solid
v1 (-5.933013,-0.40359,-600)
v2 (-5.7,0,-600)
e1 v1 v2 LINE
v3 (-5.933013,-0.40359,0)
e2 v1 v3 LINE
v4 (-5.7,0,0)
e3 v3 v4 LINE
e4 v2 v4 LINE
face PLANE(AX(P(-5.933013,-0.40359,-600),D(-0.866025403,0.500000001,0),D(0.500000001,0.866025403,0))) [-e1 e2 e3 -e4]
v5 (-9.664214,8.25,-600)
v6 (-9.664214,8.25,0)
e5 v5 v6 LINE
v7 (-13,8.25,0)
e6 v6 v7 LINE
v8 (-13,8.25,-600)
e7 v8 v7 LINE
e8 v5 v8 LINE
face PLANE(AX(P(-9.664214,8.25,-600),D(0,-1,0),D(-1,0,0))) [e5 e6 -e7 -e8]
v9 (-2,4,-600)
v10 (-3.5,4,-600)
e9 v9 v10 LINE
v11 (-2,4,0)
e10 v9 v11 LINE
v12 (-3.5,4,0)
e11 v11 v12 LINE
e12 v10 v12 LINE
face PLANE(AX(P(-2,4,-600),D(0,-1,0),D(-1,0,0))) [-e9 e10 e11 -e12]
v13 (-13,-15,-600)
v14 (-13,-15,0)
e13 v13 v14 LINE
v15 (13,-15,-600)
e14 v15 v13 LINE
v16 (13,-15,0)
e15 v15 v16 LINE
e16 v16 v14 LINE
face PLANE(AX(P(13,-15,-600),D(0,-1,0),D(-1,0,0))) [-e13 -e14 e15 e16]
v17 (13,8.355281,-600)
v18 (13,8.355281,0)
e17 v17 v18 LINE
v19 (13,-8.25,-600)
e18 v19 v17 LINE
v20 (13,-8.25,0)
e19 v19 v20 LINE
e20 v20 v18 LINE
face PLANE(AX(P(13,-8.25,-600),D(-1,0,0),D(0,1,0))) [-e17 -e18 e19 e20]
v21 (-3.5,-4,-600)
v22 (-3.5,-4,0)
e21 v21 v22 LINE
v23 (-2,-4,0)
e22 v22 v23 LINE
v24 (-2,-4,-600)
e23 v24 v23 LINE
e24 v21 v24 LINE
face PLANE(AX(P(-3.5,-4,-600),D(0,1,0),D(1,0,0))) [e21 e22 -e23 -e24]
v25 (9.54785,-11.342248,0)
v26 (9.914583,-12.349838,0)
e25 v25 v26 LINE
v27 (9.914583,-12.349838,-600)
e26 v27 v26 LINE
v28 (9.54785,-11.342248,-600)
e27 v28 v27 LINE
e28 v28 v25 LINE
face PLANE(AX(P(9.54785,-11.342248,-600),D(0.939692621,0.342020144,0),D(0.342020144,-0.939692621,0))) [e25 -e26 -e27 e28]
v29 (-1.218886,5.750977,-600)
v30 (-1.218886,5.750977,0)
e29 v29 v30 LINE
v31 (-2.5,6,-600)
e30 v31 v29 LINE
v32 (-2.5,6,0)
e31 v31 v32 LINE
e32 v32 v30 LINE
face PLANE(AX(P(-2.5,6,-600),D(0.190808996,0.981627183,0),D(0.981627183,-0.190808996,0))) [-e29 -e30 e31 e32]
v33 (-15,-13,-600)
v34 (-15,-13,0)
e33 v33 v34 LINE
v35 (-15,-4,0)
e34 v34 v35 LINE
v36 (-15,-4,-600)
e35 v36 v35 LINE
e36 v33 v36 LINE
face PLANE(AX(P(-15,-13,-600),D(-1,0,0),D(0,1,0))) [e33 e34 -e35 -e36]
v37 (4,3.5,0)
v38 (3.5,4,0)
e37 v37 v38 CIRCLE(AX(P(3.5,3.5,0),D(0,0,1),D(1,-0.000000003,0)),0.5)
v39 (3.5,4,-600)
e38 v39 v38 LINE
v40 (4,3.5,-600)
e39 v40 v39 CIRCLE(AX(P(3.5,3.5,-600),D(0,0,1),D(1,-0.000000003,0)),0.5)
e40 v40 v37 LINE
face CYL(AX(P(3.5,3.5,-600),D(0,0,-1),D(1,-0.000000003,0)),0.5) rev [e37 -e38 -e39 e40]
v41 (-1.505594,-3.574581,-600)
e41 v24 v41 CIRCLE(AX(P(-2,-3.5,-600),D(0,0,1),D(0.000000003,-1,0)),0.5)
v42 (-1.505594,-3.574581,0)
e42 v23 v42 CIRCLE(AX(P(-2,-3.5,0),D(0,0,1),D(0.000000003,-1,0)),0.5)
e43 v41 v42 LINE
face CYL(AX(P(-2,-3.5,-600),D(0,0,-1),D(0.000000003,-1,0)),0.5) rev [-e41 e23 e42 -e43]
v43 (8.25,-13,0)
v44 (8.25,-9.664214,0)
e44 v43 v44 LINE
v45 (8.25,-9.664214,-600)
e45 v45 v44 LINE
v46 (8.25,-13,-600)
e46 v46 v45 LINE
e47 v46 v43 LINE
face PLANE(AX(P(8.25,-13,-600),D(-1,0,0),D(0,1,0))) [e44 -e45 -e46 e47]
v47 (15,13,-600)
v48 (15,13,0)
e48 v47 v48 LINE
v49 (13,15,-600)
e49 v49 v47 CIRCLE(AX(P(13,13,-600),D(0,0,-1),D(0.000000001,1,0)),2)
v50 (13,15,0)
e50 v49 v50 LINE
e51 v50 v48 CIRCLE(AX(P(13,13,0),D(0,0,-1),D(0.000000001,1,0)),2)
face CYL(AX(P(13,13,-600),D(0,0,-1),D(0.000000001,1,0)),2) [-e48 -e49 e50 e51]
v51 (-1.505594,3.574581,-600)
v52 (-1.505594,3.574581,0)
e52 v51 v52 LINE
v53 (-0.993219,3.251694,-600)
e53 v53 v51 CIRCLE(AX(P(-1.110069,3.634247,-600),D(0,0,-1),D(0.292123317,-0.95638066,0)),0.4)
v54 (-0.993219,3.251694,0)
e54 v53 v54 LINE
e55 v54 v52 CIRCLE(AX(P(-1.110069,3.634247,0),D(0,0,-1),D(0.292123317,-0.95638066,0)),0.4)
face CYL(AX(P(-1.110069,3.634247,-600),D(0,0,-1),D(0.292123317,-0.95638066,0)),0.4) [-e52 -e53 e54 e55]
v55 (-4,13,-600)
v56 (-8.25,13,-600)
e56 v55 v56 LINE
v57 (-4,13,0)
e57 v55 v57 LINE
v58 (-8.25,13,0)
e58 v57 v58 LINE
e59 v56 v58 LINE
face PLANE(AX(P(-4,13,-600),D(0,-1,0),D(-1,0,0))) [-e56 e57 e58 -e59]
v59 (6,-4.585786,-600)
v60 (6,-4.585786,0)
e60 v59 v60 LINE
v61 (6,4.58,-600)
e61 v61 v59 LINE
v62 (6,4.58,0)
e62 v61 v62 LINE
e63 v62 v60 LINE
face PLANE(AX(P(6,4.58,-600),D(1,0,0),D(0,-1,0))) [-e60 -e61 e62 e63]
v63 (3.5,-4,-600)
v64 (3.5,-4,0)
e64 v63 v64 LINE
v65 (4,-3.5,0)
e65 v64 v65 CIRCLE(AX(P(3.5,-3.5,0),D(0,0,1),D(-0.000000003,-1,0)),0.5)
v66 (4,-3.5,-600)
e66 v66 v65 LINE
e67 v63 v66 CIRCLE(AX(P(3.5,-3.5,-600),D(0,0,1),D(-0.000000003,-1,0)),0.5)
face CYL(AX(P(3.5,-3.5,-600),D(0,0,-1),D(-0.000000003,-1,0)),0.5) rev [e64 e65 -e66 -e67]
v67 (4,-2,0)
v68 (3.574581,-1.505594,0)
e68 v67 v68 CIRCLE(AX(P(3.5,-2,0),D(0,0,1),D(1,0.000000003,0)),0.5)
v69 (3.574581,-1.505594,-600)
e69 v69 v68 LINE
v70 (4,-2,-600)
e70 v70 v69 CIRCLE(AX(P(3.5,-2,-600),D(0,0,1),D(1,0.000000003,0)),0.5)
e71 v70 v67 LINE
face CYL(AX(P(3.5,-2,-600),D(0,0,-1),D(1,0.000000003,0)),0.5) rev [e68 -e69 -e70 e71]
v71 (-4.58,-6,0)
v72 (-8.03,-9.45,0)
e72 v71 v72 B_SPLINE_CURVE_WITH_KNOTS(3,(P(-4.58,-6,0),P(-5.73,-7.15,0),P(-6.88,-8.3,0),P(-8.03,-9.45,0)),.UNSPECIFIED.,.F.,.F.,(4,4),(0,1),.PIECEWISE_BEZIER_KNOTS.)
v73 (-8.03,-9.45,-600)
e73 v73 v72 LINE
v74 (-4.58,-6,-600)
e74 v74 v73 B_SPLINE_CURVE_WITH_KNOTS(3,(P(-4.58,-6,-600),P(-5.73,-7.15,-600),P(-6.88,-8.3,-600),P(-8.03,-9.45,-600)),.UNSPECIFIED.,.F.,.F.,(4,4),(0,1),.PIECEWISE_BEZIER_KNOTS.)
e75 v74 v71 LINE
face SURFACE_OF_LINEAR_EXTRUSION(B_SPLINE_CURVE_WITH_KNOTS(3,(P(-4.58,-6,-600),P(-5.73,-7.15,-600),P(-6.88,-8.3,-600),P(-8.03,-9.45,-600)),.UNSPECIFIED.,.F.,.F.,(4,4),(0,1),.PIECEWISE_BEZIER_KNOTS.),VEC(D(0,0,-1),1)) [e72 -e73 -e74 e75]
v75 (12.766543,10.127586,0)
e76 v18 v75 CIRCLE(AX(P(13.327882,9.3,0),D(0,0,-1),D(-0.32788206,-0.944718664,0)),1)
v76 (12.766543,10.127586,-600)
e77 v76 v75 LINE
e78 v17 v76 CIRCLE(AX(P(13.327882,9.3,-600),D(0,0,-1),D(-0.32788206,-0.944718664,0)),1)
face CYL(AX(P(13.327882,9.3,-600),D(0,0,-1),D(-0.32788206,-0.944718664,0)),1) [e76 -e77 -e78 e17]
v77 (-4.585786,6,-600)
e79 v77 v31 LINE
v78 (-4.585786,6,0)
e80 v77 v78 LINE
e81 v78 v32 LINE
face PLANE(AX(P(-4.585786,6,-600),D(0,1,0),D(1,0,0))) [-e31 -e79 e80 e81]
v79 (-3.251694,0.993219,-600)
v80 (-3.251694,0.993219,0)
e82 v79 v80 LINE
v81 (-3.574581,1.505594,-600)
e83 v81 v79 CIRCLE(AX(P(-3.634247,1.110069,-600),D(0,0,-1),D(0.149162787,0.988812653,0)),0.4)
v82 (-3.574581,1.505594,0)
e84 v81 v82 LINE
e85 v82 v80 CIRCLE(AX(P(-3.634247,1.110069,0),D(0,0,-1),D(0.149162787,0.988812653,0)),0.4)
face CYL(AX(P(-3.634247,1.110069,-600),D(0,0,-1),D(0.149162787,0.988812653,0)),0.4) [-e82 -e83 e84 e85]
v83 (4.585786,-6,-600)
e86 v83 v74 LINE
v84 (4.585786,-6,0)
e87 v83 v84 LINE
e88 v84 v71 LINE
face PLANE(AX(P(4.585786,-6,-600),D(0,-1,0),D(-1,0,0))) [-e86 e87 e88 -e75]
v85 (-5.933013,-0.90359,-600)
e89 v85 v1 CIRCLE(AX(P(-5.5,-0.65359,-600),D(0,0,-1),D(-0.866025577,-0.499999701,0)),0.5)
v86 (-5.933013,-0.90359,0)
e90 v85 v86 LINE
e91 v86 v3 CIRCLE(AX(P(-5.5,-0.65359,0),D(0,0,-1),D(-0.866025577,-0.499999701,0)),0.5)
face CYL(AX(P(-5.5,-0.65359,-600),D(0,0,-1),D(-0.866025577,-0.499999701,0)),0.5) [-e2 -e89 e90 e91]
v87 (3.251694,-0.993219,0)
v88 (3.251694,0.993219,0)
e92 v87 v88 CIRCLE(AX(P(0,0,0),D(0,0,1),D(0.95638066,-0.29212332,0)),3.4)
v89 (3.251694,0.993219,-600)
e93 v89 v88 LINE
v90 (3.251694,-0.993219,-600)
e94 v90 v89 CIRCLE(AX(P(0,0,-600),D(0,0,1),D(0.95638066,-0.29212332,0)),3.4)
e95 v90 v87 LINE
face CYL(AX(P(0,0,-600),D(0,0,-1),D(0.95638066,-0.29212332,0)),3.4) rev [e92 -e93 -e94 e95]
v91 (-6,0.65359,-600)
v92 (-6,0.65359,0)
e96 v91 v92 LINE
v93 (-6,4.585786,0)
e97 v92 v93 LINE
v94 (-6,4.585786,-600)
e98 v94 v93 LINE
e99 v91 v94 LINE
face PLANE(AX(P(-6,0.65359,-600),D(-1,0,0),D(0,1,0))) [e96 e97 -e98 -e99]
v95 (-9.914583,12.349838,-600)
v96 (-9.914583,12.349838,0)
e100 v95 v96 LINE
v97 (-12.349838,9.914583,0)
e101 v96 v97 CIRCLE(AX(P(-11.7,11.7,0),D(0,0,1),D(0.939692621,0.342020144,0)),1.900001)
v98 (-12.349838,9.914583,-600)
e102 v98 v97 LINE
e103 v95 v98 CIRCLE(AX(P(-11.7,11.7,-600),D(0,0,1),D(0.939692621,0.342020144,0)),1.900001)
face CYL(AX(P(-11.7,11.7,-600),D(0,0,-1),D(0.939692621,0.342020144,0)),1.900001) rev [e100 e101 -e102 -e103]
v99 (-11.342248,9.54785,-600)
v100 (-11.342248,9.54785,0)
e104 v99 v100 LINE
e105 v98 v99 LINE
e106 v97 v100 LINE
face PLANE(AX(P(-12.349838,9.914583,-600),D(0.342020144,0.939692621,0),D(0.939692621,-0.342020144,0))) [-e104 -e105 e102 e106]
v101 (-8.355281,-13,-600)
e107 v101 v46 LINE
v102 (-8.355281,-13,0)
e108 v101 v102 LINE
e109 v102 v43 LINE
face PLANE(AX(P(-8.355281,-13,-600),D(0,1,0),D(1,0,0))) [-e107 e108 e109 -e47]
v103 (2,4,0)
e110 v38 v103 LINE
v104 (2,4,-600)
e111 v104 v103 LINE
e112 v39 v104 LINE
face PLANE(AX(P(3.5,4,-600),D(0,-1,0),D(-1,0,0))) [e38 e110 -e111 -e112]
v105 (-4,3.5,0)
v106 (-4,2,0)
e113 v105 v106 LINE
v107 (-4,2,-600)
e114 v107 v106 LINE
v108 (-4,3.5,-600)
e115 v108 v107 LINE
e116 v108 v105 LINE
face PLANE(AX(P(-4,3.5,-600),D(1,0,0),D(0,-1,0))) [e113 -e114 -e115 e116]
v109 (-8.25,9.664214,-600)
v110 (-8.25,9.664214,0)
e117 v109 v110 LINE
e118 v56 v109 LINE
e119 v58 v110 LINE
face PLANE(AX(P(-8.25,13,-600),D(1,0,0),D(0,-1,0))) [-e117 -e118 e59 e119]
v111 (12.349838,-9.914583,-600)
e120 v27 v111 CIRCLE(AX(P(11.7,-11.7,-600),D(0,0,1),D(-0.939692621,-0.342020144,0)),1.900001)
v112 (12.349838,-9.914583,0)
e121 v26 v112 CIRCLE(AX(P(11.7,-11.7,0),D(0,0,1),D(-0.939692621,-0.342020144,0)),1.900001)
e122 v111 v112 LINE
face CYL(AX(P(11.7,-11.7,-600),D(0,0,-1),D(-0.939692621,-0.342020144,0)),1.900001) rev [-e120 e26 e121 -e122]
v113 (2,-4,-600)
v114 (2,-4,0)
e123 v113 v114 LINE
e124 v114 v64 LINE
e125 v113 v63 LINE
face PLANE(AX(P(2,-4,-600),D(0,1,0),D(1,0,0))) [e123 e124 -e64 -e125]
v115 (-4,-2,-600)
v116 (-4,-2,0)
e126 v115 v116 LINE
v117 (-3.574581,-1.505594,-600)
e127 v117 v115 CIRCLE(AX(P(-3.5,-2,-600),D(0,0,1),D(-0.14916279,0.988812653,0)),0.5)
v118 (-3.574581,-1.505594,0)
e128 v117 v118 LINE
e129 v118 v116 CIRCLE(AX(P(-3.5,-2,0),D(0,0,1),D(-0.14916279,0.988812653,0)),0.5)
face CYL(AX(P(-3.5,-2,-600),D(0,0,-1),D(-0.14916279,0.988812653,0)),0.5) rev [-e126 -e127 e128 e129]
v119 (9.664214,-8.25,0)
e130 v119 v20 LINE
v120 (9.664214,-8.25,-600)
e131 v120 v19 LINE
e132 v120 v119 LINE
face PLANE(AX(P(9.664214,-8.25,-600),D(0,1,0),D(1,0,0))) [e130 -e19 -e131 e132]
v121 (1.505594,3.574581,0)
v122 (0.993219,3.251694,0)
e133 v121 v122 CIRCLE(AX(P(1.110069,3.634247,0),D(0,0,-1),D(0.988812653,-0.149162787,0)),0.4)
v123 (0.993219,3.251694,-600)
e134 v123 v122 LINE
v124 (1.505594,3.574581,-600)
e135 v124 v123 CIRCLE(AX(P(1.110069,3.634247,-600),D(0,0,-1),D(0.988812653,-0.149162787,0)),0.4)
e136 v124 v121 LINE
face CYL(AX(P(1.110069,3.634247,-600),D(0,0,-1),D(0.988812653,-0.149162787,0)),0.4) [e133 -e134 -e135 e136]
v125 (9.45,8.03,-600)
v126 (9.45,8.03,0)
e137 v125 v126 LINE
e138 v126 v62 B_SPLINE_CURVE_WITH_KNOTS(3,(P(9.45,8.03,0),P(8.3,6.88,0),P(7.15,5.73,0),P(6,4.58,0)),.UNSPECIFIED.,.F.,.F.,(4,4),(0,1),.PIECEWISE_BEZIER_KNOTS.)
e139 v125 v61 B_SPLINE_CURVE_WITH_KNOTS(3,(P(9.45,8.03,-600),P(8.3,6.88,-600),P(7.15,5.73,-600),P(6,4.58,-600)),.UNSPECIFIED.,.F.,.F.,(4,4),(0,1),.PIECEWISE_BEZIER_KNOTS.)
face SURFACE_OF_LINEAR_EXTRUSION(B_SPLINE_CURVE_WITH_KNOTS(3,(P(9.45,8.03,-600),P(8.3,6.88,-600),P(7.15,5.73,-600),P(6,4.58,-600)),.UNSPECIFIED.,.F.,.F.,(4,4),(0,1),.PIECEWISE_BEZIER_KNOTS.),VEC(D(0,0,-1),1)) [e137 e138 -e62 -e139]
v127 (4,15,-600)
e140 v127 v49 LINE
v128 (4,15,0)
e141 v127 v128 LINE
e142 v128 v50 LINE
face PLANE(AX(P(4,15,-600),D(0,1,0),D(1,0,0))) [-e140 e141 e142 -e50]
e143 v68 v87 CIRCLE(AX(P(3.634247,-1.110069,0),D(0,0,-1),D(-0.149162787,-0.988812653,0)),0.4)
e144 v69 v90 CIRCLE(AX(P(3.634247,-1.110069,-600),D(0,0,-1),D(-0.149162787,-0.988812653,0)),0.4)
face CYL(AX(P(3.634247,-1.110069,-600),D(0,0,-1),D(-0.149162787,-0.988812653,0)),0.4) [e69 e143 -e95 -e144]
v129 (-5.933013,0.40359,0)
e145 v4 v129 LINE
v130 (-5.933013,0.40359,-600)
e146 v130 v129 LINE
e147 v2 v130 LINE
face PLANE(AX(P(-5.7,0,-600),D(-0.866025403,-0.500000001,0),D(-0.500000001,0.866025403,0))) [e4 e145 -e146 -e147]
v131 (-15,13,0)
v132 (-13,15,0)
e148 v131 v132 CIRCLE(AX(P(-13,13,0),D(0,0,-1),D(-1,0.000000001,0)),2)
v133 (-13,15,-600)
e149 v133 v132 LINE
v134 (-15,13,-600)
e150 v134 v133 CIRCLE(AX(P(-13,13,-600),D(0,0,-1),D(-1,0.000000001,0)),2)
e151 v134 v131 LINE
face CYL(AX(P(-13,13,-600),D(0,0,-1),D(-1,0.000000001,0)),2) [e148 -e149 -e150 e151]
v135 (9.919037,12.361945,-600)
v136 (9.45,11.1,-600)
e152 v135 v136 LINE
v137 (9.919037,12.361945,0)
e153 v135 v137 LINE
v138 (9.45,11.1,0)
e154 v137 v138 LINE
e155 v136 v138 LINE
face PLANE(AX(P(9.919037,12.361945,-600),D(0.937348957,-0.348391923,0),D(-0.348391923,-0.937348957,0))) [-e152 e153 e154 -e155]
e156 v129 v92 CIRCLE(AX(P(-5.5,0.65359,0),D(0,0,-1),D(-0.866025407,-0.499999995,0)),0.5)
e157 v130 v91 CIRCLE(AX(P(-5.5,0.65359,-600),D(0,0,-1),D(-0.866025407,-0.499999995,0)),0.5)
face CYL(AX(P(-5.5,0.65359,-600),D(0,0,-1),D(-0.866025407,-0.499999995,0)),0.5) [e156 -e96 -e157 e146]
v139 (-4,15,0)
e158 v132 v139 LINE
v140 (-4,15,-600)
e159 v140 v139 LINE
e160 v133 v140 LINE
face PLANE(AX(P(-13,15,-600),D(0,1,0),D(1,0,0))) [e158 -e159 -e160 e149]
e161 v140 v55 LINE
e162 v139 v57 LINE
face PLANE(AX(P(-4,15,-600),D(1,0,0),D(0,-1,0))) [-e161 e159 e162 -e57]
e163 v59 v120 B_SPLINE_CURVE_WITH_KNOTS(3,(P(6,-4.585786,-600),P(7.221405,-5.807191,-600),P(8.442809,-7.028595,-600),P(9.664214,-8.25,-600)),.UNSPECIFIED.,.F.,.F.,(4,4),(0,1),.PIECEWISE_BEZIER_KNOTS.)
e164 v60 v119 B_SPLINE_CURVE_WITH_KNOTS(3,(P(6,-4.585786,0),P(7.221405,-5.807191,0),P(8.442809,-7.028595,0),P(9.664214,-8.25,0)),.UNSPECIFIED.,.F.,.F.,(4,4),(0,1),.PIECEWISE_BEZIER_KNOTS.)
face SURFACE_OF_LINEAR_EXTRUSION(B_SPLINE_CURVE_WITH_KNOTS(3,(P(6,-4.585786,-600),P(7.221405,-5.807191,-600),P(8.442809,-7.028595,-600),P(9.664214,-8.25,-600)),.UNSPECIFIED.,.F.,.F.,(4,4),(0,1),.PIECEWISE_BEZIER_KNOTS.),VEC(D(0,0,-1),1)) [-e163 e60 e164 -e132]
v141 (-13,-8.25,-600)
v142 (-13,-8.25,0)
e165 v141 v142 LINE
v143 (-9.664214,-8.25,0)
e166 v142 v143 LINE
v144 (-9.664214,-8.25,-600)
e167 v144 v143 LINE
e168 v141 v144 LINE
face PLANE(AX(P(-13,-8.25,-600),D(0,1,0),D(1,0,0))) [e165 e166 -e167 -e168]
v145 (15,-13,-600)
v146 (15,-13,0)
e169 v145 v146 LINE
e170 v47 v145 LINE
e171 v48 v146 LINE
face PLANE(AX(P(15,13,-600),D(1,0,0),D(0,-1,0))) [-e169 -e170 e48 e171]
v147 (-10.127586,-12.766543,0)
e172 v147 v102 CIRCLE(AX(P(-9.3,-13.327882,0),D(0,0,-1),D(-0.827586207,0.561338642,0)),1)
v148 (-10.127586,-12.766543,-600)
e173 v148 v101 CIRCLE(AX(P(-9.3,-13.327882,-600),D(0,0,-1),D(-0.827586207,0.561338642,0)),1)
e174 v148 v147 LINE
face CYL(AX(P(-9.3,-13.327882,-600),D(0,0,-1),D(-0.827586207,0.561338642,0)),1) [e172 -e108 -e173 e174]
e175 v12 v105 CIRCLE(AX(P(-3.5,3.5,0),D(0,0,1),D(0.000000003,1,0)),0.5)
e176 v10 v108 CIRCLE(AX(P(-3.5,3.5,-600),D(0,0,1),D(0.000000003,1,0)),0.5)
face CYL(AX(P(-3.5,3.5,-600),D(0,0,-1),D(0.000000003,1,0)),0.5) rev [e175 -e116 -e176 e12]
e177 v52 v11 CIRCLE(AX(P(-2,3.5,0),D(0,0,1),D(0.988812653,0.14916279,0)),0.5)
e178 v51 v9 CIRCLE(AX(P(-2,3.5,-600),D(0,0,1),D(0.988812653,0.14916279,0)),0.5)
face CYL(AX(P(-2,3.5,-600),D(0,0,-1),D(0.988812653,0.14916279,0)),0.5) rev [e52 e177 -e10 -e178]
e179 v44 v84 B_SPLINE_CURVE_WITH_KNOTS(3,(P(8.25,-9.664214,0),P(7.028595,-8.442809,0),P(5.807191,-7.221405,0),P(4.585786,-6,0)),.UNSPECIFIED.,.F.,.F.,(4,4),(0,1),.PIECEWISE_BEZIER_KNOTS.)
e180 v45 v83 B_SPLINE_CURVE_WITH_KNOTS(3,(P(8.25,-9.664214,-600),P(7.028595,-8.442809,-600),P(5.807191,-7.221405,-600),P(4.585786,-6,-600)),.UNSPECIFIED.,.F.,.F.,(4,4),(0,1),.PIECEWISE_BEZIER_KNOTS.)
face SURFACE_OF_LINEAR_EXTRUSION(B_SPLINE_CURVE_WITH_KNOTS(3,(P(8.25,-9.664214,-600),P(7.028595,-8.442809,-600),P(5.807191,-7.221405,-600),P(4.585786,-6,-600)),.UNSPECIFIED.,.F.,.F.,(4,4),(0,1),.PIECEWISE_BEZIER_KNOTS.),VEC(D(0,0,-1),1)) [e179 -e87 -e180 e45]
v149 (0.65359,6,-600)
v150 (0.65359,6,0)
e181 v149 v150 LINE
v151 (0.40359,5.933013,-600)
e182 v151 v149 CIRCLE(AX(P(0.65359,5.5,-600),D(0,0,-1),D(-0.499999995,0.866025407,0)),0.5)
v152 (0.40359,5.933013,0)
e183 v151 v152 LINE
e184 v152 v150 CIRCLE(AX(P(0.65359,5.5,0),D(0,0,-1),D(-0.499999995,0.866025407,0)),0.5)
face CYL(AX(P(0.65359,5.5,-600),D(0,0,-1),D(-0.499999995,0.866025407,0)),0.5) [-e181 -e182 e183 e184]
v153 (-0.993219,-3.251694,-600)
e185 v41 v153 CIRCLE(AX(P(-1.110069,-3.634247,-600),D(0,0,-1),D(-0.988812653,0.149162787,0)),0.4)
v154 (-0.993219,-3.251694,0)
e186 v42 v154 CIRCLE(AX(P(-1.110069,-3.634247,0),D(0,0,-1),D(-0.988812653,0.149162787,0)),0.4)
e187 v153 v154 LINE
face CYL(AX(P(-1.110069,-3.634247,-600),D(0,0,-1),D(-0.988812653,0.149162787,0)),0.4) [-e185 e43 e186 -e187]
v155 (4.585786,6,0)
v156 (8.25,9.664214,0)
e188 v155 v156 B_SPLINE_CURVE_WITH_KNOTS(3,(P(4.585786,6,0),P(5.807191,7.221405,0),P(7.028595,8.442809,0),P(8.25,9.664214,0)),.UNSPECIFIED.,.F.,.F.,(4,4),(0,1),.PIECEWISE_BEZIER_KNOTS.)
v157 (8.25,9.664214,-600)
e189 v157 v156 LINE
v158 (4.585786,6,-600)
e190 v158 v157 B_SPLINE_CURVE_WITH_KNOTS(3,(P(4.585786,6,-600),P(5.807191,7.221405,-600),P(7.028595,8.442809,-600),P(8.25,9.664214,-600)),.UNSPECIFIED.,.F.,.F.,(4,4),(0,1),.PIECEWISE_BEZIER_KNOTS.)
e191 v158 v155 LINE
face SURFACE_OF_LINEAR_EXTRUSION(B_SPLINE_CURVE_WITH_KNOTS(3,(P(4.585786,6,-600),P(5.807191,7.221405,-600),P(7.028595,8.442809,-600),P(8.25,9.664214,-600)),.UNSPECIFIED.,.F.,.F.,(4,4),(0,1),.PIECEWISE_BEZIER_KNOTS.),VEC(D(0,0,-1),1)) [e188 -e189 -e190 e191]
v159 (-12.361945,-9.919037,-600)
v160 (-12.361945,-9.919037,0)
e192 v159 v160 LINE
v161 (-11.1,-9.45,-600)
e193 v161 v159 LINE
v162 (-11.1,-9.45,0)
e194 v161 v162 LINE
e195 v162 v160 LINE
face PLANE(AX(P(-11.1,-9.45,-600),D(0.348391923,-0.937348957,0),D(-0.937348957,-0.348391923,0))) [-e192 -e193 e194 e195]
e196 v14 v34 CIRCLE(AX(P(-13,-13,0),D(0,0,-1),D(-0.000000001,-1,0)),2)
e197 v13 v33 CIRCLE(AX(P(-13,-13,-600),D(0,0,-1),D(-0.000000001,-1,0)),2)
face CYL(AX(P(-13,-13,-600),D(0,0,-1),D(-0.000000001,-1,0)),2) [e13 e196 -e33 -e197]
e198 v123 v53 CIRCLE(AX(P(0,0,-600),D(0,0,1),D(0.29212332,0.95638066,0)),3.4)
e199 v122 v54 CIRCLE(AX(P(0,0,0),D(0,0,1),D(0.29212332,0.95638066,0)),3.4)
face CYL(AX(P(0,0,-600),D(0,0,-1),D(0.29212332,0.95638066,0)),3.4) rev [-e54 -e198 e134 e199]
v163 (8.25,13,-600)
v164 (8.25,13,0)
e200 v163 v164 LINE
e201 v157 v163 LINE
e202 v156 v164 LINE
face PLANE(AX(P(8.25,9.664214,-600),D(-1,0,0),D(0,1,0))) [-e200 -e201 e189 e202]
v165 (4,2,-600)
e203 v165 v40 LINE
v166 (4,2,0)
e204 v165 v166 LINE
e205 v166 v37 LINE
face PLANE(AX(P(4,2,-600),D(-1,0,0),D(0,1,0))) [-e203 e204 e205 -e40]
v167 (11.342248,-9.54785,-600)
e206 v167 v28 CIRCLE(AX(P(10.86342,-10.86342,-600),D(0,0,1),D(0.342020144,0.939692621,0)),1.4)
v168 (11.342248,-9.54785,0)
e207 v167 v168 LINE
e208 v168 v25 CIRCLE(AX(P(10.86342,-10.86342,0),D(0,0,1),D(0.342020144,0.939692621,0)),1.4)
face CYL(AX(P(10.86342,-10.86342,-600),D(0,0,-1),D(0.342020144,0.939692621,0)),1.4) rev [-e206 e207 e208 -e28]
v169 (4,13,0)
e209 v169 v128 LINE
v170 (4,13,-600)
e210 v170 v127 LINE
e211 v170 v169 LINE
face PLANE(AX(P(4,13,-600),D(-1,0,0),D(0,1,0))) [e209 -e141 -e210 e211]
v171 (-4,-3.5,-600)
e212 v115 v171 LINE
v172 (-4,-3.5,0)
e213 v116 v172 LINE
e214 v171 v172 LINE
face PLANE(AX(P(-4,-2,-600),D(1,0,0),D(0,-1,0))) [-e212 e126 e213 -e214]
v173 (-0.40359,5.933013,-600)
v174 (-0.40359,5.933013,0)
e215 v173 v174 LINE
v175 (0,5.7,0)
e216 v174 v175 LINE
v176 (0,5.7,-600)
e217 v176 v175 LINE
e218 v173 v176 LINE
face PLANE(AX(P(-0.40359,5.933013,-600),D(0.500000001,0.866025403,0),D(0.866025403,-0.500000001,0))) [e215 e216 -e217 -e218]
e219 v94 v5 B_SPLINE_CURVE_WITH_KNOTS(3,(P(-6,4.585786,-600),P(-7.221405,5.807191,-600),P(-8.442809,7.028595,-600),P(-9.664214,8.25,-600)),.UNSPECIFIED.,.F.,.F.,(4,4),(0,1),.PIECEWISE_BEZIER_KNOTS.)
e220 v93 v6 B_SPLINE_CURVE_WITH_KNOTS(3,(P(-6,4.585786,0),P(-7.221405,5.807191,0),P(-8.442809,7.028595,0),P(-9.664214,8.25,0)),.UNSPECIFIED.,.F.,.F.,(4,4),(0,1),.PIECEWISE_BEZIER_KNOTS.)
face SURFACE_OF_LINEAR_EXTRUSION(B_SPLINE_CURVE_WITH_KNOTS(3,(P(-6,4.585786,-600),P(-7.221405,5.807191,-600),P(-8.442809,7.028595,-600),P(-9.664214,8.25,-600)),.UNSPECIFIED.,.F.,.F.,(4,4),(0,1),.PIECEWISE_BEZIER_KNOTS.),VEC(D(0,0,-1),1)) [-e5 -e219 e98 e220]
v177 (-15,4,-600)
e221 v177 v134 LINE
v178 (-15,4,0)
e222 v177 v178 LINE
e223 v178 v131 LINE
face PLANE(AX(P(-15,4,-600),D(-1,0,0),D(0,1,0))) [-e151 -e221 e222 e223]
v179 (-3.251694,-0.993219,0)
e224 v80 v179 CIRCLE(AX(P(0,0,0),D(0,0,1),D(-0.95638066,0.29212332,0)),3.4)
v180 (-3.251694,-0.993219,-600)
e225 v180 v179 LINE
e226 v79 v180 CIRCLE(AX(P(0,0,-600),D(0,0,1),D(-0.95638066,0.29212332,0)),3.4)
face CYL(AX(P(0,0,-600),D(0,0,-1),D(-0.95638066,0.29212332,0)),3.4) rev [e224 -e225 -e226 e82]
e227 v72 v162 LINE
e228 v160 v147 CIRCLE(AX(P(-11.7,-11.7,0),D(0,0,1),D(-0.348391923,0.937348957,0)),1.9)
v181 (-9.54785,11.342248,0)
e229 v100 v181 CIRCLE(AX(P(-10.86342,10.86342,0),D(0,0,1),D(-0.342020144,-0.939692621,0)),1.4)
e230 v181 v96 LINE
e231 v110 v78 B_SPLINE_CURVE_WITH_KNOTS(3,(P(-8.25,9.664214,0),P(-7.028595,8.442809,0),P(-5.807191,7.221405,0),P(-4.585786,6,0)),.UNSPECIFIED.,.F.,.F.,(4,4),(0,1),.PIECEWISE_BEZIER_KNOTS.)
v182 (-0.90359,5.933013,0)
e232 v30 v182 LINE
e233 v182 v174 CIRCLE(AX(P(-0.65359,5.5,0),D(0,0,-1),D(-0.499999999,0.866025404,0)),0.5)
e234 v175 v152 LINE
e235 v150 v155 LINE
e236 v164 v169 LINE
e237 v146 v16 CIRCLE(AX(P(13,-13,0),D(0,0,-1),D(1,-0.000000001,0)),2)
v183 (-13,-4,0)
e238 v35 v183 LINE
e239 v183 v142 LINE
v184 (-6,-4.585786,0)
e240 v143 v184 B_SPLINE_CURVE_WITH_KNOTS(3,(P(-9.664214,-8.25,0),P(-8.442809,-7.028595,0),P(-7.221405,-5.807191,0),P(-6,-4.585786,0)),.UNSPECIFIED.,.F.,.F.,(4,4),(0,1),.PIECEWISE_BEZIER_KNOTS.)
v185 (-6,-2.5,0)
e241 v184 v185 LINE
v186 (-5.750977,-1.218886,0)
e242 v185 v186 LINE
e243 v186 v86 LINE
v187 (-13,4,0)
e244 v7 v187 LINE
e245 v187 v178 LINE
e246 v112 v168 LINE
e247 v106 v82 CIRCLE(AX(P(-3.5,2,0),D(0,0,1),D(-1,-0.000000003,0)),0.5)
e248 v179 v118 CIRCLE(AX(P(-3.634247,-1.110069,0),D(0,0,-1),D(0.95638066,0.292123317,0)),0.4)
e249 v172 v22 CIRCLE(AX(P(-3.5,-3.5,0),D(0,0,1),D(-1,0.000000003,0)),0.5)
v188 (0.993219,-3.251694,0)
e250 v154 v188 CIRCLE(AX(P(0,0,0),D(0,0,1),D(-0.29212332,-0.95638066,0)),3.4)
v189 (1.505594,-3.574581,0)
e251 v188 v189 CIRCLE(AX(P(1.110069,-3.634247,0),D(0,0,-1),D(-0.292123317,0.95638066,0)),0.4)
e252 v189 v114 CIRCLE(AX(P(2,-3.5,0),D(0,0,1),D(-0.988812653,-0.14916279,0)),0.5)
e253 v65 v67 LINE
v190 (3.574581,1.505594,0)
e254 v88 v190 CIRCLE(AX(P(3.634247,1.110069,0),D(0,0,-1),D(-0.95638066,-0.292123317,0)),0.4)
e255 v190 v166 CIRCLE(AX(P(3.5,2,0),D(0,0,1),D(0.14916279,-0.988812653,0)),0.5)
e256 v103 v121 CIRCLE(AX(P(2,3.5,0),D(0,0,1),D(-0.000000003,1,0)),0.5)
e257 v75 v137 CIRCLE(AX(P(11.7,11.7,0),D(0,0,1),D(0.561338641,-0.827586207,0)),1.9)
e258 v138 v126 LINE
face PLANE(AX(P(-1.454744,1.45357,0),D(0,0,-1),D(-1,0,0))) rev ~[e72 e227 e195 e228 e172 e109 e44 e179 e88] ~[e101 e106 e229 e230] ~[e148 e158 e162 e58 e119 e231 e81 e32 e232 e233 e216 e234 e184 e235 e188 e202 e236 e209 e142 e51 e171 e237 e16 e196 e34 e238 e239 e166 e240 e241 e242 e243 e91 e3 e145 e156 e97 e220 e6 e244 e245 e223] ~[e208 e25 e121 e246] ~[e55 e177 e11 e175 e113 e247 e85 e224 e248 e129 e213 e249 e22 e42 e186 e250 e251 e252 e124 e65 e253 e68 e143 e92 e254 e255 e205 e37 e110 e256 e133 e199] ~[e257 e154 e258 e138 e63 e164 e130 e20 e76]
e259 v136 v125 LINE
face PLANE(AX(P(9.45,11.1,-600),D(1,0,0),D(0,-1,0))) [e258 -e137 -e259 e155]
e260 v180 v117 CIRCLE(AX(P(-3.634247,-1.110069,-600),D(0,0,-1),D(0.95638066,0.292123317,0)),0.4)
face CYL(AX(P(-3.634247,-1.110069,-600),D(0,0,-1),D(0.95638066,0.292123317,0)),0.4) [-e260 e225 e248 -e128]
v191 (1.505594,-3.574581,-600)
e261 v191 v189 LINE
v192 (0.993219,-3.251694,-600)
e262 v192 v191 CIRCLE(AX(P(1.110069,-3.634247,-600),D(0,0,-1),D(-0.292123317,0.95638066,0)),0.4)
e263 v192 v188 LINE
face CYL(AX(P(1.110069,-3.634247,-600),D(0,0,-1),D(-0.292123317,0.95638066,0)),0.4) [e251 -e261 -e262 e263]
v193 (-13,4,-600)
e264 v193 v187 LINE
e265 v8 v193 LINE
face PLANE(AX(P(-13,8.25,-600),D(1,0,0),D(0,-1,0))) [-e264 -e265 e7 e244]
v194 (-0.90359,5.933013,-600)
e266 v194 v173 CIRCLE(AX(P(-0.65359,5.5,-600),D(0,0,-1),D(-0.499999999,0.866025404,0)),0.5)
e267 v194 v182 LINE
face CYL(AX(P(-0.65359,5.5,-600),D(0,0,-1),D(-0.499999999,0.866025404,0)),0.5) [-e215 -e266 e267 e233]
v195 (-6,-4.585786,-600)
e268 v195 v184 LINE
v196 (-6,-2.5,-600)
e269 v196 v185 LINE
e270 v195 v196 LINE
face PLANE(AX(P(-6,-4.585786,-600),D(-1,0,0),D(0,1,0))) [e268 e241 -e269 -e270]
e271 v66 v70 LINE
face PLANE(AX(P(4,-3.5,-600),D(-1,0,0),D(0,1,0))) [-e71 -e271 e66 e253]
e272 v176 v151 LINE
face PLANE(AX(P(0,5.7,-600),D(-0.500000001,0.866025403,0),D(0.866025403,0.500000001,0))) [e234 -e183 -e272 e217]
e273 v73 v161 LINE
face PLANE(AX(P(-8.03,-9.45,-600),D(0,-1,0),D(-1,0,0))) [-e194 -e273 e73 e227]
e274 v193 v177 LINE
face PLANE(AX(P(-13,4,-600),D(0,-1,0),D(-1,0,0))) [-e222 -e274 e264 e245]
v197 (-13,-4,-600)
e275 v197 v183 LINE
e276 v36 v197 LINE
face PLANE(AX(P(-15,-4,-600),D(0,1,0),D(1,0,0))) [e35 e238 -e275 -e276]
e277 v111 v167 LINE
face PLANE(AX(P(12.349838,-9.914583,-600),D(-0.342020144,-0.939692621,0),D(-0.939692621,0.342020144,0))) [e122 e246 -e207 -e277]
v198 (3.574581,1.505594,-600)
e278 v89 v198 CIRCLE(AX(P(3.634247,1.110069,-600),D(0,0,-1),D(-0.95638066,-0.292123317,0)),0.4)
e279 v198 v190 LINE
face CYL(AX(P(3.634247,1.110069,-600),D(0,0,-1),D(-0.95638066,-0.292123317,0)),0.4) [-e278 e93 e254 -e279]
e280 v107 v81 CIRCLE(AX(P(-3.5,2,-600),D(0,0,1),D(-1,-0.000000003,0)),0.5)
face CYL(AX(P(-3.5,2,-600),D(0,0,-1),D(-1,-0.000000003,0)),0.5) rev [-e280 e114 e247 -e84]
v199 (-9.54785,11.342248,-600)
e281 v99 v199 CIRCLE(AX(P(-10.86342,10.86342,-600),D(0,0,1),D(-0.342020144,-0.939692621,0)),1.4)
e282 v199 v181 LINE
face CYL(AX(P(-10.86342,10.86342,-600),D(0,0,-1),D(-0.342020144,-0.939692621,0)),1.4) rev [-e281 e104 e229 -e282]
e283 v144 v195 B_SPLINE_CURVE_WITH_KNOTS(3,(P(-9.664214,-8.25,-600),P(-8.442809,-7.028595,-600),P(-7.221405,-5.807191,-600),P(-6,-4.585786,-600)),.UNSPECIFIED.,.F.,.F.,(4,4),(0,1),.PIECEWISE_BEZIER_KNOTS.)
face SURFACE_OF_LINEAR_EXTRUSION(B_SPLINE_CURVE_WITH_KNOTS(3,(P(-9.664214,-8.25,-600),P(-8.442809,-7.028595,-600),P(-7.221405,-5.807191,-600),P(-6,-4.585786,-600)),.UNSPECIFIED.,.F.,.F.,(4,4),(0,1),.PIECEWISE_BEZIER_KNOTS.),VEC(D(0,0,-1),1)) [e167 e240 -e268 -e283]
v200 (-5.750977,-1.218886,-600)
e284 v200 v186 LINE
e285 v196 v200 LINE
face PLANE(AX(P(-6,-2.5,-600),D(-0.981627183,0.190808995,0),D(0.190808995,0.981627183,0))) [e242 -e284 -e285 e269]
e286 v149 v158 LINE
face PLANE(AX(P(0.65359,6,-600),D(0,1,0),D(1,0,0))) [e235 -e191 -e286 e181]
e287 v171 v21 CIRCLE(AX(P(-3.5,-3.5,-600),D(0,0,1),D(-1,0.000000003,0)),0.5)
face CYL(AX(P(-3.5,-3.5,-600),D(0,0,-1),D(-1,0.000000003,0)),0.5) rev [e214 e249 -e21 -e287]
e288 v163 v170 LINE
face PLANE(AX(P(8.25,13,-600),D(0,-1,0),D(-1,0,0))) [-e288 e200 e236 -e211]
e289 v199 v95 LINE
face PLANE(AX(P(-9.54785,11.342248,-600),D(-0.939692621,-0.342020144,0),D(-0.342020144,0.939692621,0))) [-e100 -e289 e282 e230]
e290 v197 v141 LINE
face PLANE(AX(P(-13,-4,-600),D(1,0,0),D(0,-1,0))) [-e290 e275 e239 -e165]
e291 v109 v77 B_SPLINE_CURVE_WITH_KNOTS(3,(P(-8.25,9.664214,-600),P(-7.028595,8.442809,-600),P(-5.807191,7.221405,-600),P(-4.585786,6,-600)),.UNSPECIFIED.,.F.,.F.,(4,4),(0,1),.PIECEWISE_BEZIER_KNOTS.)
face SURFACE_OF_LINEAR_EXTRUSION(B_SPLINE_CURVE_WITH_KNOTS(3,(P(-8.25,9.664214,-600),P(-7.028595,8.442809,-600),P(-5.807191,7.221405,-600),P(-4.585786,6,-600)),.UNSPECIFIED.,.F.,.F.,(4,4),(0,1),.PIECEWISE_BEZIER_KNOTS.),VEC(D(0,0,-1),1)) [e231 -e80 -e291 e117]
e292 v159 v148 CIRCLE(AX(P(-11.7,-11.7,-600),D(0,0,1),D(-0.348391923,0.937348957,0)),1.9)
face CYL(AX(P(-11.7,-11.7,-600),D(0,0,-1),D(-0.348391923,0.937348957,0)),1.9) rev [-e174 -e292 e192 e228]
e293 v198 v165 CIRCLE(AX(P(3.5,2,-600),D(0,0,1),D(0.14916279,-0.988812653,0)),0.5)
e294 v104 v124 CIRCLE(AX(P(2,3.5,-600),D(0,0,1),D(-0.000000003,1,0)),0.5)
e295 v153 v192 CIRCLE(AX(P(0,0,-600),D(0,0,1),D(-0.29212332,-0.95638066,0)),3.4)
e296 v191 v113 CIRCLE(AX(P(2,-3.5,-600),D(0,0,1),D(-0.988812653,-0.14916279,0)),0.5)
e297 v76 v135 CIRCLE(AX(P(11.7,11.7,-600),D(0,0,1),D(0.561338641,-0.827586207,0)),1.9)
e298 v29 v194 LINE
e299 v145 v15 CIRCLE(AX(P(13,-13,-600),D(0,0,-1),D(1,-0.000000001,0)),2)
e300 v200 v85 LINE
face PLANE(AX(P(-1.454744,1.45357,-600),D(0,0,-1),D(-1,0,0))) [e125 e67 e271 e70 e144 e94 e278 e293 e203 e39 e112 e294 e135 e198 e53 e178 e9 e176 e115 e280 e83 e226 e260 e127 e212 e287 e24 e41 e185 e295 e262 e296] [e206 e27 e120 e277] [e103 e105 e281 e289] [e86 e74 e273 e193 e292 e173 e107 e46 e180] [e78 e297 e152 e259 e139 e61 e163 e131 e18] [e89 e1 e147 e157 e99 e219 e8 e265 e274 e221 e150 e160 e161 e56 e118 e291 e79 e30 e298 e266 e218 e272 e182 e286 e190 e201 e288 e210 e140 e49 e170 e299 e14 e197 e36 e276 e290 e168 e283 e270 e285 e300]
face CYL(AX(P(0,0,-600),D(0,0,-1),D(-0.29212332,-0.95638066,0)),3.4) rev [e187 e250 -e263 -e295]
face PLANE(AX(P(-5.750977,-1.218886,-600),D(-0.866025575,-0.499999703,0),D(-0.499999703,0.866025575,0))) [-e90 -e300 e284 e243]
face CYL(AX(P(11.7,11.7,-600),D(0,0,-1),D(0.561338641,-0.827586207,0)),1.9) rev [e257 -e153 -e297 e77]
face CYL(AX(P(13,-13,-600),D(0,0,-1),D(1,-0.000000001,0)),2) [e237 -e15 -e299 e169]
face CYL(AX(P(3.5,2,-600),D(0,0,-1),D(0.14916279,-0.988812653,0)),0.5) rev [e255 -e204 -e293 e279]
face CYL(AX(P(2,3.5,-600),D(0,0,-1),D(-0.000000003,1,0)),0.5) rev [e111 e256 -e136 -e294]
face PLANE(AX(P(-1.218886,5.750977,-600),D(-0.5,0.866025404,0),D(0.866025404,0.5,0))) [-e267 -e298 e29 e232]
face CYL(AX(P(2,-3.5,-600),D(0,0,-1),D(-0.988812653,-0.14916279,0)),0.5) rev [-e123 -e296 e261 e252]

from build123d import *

# Parameters (mm, degrees)
ESTRUSIONE_ESTRUSIONE1_DEPTH = 600


with BuildPart() as part:
    # Schizzo1 → Estrusione-Estrusione1 (new body)
    with BuildSketch(Plane(origin=(0, 0, -600), x_dir=(-1, 0, 0), z_dir=(0, 0, -1))):
        with BuildLine():
            Line((-15, 13), (-15, -13))
            ThreePointArc((-15, -13), (-14.414213562, -14.414213562), (-13, -15))
            Line((-13, -15), (13, -15))
            ThreePointArc((13, -15), (14.414213562, -14.414213562), (15, -13))
            Line((15, -13), (15, -4))
            Line((15, -4), (13, -4))
            Line((13, -4), (13, -8.25))
            Line((13, -8.25), (9.664213562, -8.25))
            add(Edge.make_bspline(
                [(9.664213562, -8.25), (8.442809042, -7.028595479), (7.221404521, -5.807190958), (6, -4.585786438)],
                knots=[0, 0, 0, 0, 1, 1, 1, 1], degree=3))
            Line((6, -4.585786438), (6, -2.5))
            Line((6, -2.5), (5.750976629, -1.218885816))
            Line((5.750976629, -1.218885816), (5.933012788, -0.90358969))
            ThreePointArc((5.933012788, -0.90358969), (6, -0.653589753), (5.933012702, -0.403589838))
            Line((5.933012702, -0.403589838), (5.7, 0))
            Line((5.7, 0), (5.933012702, 0.403589838))
            ThreePointArc((5.933012702, 0.403589838), (5.982962913, 0.524180316), (6, 0.653589838))
            Line((6, 0.653589838), (6, 4.585786438))
            add(Edge.make_bspline(
                [(6, 4.585786438), (7.221404521, 5.807190958), (8.442809042, 7.028595479), (9.664213562, 8.25)],
                knots=[0, 0, 0, 0, 1, 1, 1, 1], degree=3))
            Line((9.664213562, 8.25), (13, 8.25))
            Line((13, 8.25), (13, 4))
            Line((13, 4), (15, 4))
            Line((15, 4), (15, 13))
            ThreePointArc((15, 13), (14.414213562, 14.414213562), (13, 15))
            Line((13, 15), (4, 15))
            Line((4, 15), (4, 13))
            Line((4, 13), (8.25, 13))
            Line((8.25, 13), (8.25, 9.664213562))
            add(Edge.make_bspline(
                [(8.25, 9.664213562), (7.028595479, 8.442809042), (5.807190958, 7.221404521), (4.585786438, 6)],
                knots=[0, 0, 0, 0, 1, 1, 1, 1], degree=3))
            Line((4.585786438, 6), (2.5, 6))
            Line((2.5, 6), (1.218885629, 5.750976592))
            Line((1.218885629, 5.750976592), (0.903589838, 5.933012702))
            ThreePointArc((0.903589838, 5.933012702), (0.653589838, 6), (0.403589838, 5.933012702))
            Line((0.403589838, 5.933012702), (0, 5.7))
            Line((0, 5.7), (-0.403589838, 5.933012702))
            ThreePointArc((-0.403589838, 5.933012702), (-0.524180316, 5.982962913), (-0.653589838, 6))
            Line((-0.653589838, 6), (-4.585786438, 6))
            add(Edge.make_bspline(
                [(-4.585786438, 6), (-5.807190958, 7.221404521), (-7.028595479, 8.442809042), (-8.25, 9.664213562)],
                knots=[0, 0, 0, 0, 1, 1, 1, 1], degree=3))
            Line((-8.25, 9.664213562), (-8.25, 13))
            Line((-8.25, 13), (-4, 13))
            Line((-4, 13), (-4, 15))
            Line((-4, 15), (-13, 15))
            ThreePointArc((-13, 15), (-14.414213562, 14.414213562), (-15, 13))
        make_face()
        with BuildLine():
            Line((12.349838066, 9.914583088), (11.34224826, 9.54785039))
            ThreePointArc((11.34224826, 9.54785039), (9.873470565, 9.873470565), (9.54785039, 11.34224826))
            Line((9.54785039, 11.34224826), (9.914583088, 12.349838066))
            ThreePointArc((9.914583088, 12.349838066), (13.043502884, 13.043502884), (12.349838066, 9.914583088))
        make_face(mode=Mode.SUBTRACT)
        with BuildLine():
            Line((-4.585786438, -6), (4.58, -6))
            add(Edge.make_bspline(
                [(4.58, -6), (5.73, -7.15), (6.88, -8.3), (8.03, -9.45)],
                knots=[0, 0, 0, 0, 1, 1, 1, 1], degree=3))
            Line((8.03, -9.45), (11.1, -9.45))
            Line((11.1, -9.45), (12.361944654, -9.919036981))
            ThreePointArc((12.361944654, -9.919036981), (13.194761433, -12.872897378), (10.127586207, -12.766543418))
            ThreePointArc((10.127586207, -12.766543418), (9.169403304, -12.336446483), (8.355281336, -13))
            Line((8.355281336, -13), (-8.25, -13))
            Line((-8.25, -13), (-8.25, -9.664213562))
            add(Edge.make_bspline(
                [(-8.25, -9.664213562), (-7.028595479, -8.442809042), (-5.807190958, -7.221404521), (-4.585786438, -6)],
                knots=[0, 0, 0, 0, 1, 1, 1, 1], degree=3))
        make_face(mode=Mode.SUBTRACT)
        with BuildLine():
            Line((-9.919036981, 12.361944654), (-9.45, 11.1))
            Line((-9.45, 11.1), (-9.45, 8.03))
            add(Edge.make_bspline(
                [(-9.45, 8.03), (-8.3, 6.88), (-7.15, 5.73), (-6, 4.58)],
                knots=[0, 0, 0, 0, 1, 1, 1, 1], degree=3))
            Line((-6, 4.58), (-6, -4.585786438))
            add(Edge.make_bspline(
                [(-6, -4.585786438), (-7.221404521, -5.807190958), (-8.442809042, -7.028595479), (-9.664213562, -8.25)],
                knots=[0, 0, 0, 0, 1, 1, 1, 1], degree=3))
            Line((-9.664213562, -8.25), (-13, -8.25))
            Line((-13, -8.25), (-13, 8.355281336))
            ThreePointArc((-13, 8.355281336), (-12.336446483, 9.169403304), (-12.766543418, 10.127586207))
            ThreePointArc((-12.766543418, 10.127586207), (-12.872897378, 13.194761433), (-9.919036981, 12.361944654))
        make_face(mode=Mode.SUBTRACT)
        with BuildLine():
            Line((-9.54785039, -11.34224826), (-9.914583088, -12.349838066))
            ThreePointArc((-9.914583088, -12.349838066), (-13.043502884, -13.043502884), (-12.349838066, -9.914583088))
            Line((-12.349838066, -9.914583088), (-11.34224826, -9.54785039))
            ThreePointArc((-11.34224826, -9.54785039), (-9.873470565, -9.873470565), (-9.54785039, -11.34224826))
        make_face(mode=Mode.SUBTRACT)
        with BuildLine():
            Line((4, 3.5), (4, 2))
            ThreePointArc((4, 2), (3.879005736, 1.673879391), (3.574581393, 1.505593673))
            ThreePointArc((3.574581393, 1.505593673), (3.295837094, 1.323326833), (3.251694243, 0.993219284))
            ThreePointArc((3.251694243, 0.993219284), (3.4, 0), (3.251694243, -0.993219284))
            ThreePointArc((3.251694243, -0.993219284), (3.295837094, -1.323326833), (3.574581393, -1.505593673))
            ThreePointArc((3.574581393, -1.505593673), (3.879005736, -1.673879391), (4, -2))
            Line((4, -2), (4, -3.5))
            ThreePointArc((4, -3.5), (3.853553391, -3.853553391), (3.5, -4))
            Line((3.5, -4), (2, -4))
            ThreePointArc((2, -4), (1.673879391, -3.879005736), (1.505593673, -3.574581393))
            ThreePointArc((1.505593673, -3.574581393), (1.323326833, -3.295837094), (0.993219284, -3.251694243))
            ThreePointArc((0.993219284, -3.251694243), (0, -3.4), (-0.993219284, -3.251694243))
            ThreePointArc((-0.993219284, -3.251694243), (-1.323326833, -3.295837094), (-1.505593673, -3.574581393))
            ThreePointArc((-1.505593673, -3.574581393), (-1.673879391, -3.879005736), (-2, -4))
            Line((-2, -4), (-3.5, -4))
            ThreePointArc((-3.5, -4), (-3.853553391, -3.853553391), (-4, -3.5))
            Line((-4, -3.5), (-4, -2))
            ThreePointArc((-4, -2), (-3.879005736, -1.673879391), (-3.574581393, -1.505593673))
            ThreePointArc((-3.574581393, -1.505593673), (-3.295837094, -1.323326833), (-3.251694243, -0.993219284))
            ThreePointArc((-3.251694243, -0.993219284), (-3.4, 0), (-3.251694243, 0.993219284))
            ThreePointArc((-3.251694243, 0.993219284), (-3.295837094, 1.323326833), (-3.574581393, 1.505593673))
            ThreePointArc((-3.574581393, 1.505593673), (-3.879005736, 1.673879391), (-4, 2))
            Line((-4, 2), (-4, 3.5))
            ThreePointArc((-4, 3.5), (-3.853553391, 3.853553391), (-3.5, 4))
            Line((-3.5, 4), (-2, 4))
            ThreePointArc((-2, 4), (-1.673879391, 3.879005736), (-1.505593673, 3.574581393))
            ThreePointArc((-1.505593673, 3.574581393), (-1.323326833, 3.295837094), (-0.993219284, 3.251694243))
            ThreePointArc((-0.993219284, 3.251694243), (0, 3.4), (0.993219284, 3.251694243))
            ThreePointArc((0.993219284, 3.251694243), (1.323326833, 3.295837094), (1.505593673, 3.574581393))
            ThreePointArc((1.505593673, 3.574581393), (1.673879391, 3.879005736), (2, 4))
            Line((2, 4), (3.5, 4))
            ThreePointArc((3.5, 4), (3.853553391, 3.853553391), (4, 3.5))
        make_face(mode=Mode.SUBTRACT)
    extrude(amount=-ESTRUSIONE_ESTRUSIONE1_DEPTH)


solid = part.part
